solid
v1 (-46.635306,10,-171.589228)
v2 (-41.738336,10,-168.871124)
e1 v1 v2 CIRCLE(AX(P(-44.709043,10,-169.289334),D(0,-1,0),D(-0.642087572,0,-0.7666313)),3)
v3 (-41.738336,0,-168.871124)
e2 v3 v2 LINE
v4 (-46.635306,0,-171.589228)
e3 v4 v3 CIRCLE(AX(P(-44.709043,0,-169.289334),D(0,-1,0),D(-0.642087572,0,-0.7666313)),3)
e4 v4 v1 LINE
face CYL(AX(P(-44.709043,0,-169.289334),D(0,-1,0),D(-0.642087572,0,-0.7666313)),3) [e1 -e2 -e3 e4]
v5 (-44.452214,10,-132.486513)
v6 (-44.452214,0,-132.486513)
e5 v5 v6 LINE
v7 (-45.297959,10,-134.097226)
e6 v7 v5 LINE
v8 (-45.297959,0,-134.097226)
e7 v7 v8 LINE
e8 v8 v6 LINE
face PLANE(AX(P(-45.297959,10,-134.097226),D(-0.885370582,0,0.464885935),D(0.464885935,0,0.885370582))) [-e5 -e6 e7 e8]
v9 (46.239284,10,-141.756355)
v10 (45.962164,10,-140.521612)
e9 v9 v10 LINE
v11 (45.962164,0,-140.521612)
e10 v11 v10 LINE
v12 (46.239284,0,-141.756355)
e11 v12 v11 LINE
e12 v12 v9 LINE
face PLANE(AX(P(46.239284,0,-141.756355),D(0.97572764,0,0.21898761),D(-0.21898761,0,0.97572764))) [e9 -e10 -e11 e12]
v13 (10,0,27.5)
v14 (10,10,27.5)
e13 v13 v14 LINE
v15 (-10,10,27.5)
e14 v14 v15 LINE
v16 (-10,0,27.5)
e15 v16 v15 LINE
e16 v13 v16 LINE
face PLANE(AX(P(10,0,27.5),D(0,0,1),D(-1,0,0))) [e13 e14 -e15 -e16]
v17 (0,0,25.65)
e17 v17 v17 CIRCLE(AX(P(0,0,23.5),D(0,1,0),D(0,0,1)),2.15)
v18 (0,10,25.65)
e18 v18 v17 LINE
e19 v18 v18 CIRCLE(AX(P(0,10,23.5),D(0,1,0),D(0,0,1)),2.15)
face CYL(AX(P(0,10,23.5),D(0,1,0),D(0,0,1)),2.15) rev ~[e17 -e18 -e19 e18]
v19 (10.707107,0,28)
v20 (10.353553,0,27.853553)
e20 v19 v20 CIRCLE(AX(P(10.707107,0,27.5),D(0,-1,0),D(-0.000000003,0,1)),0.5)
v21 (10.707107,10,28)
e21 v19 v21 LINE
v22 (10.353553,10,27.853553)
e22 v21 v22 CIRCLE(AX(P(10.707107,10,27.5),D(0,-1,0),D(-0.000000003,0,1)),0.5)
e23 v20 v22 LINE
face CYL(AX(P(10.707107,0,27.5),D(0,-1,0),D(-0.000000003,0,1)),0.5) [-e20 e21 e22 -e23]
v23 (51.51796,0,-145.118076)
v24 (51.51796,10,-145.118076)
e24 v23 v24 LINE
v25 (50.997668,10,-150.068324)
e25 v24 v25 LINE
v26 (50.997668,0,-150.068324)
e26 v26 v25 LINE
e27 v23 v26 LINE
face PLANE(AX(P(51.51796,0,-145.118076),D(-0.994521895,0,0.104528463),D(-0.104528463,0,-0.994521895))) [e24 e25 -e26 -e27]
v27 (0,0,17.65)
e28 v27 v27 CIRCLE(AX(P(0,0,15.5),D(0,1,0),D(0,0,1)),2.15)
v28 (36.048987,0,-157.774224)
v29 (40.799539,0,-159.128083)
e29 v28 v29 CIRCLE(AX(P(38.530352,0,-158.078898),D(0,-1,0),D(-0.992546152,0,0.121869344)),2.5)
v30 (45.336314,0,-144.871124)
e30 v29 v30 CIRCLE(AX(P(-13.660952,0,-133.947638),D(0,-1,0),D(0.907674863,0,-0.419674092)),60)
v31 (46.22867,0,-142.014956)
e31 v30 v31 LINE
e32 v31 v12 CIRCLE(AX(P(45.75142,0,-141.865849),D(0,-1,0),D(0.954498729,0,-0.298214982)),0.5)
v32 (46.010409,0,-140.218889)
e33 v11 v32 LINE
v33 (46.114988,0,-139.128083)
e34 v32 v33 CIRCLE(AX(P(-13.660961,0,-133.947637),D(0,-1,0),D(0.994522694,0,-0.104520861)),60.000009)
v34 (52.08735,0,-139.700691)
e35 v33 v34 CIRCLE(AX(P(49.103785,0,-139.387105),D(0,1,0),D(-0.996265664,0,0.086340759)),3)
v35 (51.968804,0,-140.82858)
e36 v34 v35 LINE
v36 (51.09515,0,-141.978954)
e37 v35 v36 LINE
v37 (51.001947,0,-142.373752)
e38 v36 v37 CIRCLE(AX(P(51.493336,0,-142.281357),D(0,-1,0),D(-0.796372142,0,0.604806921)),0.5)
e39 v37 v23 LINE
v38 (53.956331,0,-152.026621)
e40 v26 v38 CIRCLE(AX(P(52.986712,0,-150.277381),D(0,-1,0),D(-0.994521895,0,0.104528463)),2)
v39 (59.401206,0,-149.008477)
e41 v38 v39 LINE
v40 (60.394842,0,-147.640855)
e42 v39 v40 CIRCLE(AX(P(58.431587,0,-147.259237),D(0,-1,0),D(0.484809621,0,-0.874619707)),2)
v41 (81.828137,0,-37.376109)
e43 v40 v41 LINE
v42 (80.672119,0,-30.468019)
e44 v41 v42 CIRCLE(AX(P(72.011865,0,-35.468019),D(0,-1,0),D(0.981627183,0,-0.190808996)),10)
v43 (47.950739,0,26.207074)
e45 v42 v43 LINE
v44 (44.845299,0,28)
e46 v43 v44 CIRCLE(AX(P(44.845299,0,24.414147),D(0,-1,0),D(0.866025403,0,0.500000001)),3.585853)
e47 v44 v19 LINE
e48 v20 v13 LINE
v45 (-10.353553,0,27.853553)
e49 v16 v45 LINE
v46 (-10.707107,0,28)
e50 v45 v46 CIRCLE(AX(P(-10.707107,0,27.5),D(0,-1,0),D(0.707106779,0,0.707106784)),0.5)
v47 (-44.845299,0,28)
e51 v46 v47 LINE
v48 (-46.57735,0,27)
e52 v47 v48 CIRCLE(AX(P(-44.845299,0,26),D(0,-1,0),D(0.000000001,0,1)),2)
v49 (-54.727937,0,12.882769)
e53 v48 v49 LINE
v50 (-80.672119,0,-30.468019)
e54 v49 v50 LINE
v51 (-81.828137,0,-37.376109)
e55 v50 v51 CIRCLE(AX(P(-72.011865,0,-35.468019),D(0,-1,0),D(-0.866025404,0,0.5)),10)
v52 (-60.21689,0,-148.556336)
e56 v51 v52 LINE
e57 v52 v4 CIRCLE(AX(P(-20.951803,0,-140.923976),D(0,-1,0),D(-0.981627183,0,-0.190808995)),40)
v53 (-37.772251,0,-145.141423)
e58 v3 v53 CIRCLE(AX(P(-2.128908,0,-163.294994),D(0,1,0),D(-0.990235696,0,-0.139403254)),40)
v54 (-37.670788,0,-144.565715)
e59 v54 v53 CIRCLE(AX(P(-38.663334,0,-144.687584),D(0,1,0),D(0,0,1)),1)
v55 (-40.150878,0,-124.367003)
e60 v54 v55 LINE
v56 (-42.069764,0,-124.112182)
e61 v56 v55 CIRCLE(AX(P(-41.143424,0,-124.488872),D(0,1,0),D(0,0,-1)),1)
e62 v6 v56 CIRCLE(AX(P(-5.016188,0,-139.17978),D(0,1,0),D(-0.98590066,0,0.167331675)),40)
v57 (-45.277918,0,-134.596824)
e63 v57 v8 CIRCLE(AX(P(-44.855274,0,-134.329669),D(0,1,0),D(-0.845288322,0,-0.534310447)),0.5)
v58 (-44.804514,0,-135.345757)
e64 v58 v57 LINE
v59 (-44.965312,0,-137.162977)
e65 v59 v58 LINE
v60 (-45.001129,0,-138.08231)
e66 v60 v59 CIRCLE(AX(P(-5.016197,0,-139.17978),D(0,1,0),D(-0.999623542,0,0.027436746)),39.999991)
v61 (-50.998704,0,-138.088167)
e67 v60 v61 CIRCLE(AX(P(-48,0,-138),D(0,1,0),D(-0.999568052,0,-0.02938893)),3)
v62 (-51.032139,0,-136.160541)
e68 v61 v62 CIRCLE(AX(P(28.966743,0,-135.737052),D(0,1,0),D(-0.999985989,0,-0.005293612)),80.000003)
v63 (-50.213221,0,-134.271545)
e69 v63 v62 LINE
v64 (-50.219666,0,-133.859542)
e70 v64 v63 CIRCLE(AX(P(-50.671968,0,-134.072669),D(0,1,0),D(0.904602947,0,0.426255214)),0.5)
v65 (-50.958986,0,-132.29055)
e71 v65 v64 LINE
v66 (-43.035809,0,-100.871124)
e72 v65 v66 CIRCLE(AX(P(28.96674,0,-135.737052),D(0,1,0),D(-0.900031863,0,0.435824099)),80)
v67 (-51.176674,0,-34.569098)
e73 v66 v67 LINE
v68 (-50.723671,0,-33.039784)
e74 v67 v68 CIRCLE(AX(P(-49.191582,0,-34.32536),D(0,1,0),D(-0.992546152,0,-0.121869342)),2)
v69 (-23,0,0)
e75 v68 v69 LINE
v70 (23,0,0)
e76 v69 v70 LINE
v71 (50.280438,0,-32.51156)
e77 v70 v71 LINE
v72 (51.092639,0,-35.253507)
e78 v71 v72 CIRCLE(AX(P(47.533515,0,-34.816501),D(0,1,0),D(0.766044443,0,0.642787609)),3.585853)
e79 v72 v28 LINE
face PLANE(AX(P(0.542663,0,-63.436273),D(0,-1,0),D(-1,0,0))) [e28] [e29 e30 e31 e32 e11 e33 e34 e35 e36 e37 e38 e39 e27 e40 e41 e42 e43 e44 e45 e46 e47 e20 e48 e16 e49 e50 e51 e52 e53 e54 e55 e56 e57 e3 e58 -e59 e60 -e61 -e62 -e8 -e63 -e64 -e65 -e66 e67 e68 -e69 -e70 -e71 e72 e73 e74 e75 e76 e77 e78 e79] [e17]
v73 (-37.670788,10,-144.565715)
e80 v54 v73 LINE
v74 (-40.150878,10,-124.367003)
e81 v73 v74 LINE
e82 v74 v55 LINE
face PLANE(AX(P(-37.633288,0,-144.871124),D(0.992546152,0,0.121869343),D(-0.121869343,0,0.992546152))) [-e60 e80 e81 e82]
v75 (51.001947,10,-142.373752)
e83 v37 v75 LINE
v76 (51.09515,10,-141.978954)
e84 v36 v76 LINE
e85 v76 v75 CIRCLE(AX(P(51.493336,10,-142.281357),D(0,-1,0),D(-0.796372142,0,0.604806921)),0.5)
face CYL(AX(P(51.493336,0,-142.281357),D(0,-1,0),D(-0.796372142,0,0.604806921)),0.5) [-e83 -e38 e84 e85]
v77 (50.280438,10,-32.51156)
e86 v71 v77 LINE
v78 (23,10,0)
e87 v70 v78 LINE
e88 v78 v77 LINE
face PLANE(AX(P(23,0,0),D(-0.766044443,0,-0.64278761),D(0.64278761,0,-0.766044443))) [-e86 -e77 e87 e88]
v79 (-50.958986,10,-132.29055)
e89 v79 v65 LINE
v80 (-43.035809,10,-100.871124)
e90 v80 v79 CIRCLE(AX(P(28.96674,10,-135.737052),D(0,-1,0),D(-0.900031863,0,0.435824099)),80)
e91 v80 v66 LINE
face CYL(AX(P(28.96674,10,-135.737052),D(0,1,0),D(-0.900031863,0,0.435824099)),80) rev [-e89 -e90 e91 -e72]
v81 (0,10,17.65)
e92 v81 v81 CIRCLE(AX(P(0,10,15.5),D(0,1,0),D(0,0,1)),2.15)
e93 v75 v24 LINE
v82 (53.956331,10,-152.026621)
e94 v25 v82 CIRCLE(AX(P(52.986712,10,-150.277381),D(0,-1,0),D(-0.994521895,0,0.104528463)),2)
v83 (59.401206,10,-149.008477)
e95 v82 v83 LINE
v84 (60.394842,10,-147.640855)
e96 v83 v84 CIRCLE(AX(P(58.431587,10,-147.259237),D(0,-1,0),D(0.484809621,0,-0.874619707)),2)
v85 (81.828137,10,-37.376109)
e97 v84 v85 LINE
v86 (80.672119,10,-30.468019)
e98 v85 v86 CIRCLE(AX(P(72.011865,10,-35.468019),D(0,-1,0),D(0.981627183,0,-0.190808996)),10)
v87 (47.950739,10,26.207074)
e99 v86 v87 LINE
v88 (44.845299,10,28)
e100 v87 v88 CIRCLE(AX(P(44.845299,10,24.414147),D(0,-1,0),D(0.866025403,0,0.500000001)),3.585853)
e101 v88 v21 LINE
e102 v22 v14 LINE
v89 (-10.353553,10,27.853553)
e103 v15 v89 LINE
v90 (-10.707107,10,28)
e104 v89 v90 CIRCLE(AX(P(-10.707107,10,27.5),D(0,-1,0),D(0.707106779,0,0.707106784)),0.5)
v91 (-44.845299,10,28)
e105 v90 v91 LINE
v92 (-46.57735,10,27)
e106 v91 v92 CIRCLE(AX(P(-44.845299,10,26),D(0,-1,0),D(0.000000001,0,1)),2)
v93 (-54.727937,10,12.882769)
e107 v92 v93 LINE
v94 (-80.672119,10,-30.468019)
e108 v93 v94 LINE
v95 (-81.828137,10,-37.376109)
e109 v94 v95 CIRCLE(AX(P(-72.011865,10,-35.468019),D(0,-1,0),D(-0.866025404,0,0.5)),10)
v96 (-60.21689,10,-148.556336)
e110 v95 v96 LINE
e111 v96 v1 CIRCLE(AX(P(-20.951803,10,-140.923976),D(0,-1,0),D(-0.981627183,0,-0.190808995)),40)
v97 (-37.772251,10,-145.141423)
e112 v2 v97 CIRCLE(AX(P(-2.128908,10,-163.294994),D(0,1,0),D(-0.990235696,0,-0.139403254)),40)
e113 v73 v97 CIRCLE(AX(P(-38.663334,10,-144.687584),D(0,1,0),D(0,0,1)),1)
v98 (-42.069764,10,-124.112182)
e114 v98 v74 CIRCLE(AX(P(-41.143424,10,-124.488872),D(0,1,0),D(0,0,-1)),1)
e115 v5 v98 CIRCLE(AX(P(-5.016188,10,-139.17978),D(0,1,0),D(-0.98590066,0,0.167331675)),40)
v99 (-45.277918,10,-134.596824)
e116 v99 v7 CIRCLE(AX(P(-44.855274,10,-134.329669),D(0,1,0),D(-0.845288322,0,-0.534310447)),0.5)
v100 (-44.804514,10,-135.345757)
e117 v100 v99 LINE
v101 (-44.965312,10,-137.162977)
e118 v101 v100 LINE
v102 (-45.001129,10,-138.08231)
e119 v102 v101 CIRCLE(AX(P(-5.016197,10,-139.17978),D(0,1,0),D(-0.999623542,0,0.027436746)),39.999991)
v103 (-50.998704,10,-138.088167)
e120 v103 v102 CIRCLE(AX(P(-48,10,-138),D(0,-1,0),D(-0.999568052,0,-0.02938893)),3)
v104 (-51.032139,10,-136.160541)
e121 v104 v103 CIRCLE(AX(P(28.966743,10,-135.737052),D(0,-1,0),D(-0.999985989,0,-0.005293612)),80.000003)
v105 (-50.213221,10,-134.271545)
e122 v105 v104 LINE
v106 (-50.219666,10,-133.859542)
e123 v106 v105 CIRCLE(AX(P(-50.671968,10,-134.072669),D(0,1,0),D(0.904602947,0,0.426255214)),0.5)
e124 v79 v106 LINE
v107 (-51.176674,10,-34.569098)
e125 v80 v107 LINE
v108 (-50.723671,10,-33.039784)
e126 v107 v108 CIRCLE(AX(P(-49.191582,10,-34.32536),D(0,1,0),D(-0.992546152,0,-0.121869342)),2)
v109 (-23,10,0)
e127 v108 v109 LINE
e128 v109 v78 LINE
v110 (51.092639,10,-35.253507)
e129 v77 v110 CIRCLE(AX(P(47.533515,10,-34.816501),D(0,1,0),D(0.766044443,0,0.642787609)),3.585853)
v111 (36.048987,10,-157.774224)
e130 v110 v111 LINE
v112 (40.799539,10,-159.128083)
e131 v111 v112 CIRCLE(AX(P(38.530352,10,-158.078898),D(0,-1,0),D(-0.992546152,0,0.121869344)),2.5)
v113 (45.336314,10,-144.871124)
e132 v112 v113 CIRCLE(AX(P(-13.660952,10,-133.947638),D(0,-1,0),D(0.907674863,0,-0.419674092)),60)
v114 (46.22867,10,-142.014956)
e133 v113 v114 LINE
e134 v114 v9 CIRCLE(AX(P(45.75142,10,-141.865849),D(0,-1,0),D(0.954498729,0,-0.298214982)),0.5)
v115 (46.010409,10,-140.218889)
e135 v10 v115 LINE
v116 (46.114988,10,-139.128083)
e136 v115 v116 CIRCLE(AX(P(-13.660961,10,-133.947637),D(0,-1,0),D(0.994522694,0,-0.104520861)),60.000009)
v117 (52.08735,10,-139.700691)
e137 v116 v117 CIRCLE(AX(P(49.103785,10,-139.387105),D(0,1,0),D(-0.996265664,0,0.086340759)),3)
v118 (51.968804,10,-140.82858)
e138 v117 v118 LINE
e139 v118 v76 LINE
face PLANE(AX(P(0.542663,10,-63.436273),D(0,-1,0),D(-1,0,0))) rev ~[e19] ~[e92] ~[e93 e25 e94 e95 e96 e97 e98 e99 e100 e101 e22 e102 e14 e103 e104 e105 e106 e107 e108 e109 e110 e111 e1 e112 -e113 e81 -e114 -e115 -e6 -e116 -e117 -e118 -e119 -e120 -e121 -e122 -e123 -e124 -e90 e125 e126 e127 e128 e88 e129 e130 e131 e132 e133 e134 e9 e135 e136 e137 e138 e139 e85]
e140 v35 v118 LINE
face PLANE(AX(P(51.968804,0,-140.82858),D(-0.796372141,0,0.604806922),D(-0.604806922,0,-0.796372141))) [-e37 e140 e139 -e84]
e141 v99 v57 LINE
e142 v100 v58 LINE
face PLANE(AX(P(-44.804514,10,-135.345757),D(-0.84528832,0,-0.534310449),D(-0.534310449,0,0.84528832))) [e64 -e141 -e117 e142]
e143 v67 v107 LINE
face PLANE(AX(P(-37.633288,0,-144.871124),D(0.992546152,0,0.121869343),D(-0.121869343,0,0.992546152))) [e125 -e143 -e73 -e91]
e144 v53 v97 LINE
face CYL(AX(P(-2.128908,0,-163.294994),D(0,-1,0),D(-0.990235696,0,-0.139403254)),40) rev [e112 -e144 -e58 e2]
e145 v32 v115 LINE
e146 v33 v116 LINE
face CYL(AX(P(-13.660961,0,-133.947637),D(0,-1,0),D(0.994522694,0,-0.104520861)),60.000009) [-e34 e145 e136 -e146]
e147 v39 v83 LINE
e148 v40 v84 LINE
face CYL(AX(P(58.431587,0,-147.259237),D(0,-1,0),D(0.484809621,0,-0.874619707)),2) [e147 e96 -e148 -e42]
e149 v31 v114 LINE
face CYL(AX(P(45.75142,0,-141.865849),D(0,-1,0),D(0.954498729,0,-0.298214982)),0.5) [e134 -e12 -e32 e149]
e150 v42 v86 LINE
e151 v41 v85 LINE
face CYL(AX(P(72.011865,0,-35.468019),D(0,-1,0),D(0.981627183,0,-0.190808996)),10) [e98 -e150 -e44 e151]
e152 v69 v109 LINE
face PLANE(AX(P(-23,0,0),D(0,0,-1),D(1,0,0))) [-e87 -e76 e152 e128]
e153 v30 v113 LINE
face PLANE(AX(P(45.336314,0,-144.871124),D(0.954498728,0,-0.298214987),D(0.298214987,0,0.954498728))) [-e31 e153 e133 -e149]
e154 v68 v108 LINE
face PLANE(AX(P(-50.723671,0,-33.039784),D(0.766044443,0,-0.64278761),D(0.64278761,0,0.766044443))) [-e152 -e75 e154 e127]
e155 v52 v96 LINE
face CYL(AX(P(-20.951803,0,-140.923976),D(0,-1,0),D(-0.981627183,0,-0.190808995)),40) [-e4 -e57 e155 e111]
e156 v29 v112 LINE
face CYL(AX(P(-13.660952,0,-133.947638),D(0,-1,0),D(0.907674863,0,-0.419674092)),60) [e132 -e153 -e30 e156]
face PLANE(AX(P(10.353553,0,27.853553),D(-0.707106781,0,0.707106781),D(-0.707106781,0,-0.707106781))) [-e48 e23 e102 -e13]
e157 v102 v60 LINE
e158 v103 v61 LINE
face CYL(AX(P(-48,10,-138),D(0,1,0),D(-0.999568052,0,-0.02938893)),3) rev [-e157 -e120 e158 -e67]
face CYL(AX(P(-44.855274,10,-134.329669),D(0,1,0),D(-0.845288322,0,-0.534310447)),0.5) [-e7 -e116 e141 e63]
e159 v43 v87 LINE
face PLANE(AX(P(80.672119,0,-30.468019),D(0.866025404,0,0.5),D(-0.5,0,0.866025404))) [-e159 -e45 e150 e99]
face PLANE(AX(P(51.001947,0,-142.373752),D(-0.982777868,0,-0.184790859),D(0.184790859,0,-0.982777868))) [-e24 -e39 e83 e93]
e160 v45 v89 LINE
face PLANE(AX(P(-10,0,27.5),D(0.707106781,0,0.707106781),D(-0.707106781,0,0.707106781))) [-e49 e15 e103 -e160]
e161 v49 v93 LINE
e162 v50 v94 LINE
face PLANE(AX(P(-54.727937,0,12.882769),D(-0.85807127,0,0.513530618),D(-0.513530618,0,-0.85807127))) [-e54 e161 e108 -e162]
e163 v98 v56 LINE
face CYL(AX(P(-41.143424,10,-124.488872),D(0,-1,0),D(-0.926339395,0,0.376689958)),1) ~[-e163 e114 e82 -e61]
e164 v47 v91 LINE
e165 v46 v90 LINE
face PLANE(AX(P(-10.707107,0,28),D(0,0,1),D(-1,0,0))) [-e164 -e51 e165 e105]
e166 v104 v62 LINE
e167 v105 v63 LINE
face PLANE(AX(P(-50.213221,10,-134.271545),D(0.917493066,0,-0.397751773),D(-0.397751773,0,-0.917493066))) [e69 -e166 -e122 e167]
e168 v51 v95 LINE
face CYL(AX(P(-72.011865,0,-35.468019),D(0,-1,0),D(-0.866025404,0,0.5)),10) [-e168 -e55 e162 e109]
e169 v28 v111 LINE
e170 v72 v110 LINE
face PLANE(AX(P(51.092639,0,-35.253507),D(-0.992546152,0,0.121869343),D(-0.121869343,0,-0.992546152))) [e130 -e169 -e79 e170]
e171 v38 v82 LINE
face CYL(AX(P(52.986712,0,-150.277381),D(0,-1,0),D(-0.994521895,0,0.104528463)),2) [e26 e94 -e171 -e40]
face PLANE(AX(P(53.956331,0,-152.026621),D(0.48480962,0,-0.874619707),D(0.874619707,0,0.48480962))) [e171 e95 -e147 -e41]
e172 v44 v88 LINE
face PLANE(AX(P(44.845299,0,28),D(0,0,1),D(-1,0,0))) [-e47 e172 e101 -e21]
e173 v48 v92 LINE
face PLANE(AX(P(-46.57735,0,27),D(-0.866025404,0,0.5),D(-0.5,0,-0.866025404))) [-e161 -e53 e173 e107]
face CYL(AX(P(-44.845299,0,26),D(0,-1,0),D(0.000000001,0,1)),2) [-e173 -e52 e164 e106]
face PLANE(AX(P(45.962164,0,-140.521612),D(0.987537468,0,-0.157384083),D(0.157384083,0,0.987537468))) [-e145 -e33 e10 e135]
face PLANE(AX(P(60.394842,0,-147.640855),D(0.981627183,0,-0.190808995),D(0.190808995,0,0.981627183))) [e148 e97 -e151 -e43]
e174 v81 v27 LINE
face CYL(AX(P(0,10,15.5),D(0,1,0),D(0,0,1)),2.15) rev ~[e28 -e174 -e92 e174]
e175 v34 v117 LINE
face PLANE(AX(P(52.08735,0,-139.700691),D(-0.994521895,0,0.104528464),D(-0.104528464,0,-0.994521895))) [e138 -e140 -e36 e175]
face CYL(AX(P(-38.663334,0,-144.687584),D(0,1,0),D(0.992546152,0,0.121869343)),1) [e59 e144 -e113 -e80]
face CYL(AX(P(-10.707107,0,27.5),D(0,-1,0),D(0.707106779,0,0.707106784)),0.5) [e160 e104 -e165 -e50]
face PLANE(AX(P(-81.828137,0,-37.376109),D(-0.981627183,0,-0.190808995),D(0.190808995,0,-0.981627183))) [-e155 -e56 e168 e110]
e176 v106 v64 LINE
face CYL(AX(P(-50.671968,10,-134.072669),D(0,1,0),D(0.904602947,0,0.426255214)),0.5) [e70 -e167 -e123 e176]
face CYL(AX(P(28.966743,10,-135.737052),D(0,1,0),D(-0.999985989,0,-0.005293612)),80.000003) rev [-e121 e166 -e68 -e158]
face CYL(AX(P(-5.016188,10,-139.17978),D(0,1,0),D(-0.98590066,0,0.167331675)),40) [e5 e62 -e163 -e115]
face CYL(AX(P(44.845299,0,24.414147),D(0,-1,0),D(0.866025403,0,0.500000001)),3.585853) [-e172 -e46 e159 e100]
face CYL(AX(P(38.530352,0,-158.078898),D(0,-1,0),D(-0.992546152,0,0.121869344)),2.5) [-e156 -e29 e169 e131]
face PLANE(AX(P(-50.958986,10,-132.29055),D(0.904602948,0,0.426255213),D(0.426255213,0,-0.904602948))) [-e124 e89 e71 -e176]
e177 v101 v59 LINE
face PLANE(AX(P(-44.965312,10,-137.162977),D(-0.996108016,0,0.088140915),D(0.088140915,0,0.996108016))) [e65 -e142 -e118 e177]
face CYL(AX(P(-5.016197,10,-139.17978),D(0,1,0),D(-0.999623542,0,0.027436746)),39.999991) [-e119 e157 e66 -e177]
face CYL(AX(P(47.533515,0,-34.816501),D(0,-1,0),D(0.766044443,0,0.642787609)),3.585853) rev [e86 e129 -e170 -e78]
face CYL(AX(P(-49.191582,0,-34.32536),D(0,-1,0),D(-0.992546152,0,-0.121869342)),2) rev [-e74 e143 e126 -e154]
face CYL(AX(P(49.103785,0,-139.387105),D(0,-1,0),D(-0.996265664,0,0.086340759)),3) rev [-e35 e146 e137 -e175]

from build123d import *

# Parameters (mm, degrees)
EXTRUDE_1_DEPTH     = 10
CUT_EXTRUDE_1_REACH = 193.075
SKETCH_2_R          = 2.15
FILLET_1_R          = 1


with BuildPart() as part:
    # 草图1 → 凸台-拉伸1 (new body)
    with BuildSketch(Plane(origin=(0, 0, 0), x_dir=(1, 0, 0), z_dir=(0, 1, 0))):
        with BuildLine():
            Line((-23, 0), (23, 0))
            Line((23, 0), (50.280437597, 32.511559514))
            ThreePointArc((50.280437597, 32.511559514), (50.971701439, 33.798064087), (51.092639409, 35.25350688))
            Line((51.092639409, 35.25350688), (36.048986901, 157.774224452))
            ThreePointArc((36.048986901, 157.774224452), (37.845160212, 160.483167311), (40.799539436, 159.128083042))
            ThreePointArc((40.799539436, 159.128083042), (43.514050375, 152.141566893), (45.33631399, 144.871124481))
            Line((45.33631399, 144.871124481), (46.228669547, 142.01495601))
            ThreePointArc((46.228669547, 142.01495601), (46.250999528, 141.886354071), (46.239284003, 141.756354712))
            Line((46.239284003, 141.756354712), (45.962164319, 140.52161209))
            Line((45.962164319, 140.52161209), (46.010409332, 140.218889241))
            ThreePointArc((46.010409332, 140.218889241), (46.065188715, 139.673724891), (46.11498752, 139.128083042))
            ThreePointArc((46.11498752, 139.128083042), (49.390100294, 136.400799361), (52.087350199, 139.700690708))
            Line((52.087350199, 139.700690708), (51.968804209, 140.828580455))
            Line((51.968804209, 140.828580455), (51.095150293, 141.978953599))
            ThreePointArc((51.095150293, 141.978953599), (51.00671283, 142.166476528), (51.001947429, 142.37375249))
            Line((51.001947429, 142.37375249), (51.517960099, 145.118075635))
            Line((51.517960099, 145.118075635), (50.997668008, 150.068324212))
            ThreePointArc((50.997668008, 150.068324212), (51.882837828, 151.945152782), (53.956331039, 152.026620552))
            Line((53.956331039, 152.026620552), (59.401206432, 149.008476838))
            ThreePointArc((59.401206432, 149.008476838), (60.04962118, 148.434807928), (60.394841558, 147.640855414))
            Line((60.394841558, 147.640855414), (81.828137025, 37.376109146))
            ThreePointArc((81.828137025, 37.376109146), (81.874721206, 33.817543133), (80.672119228, 30.468019192))
            Line((80.672119228, 30.468019192), (47.950739183, -26.207073541))
            ThreePointArc((47.950739183, -26.207073541), (46.63822592, -27.519586803), (44.845299462, -28))
            Line((44.845299462, -28), (10.707106781, -28))
            ThreePointArc((10.707106781, -28), (10.515765065, -27.961939766), (10.353553391, -27.853553391))
            Line((10.353553391, -27.853553391), (10, -27.5))
            Line((10, -27.5), (-10, -27.5))
            Line((-10, -27.5), (-10.353553391, -27.853553391))
            ThreePointArc((-10.353553391, -27.853553391), (-10.515765065, -27.961939766), (-10.707106781, -28))
            Line((-10.707106781, -28), (-44.845299462, -28))
            ThreePointArc((-44.845299462, -28), (-45.845299462, -27.732050808), (-46.577350269, -27))
            Line((-46.577350269, -27), (-54.72793721, -12.882769307))
            Line((-54.72793721, -12.882769307), (-80.672119228, 30.468019192))
            ThreePointArc((-80.672119228, 30.468019192), (-81.874721206, 33.817543133), (-81.828137025, 37.376109146))
            Line((-81.828137025, 37.376109146), (-60.216890167, 148.556335961))
            ThreePointArc((-60.216890167, 148.556335961), (-55.407693084, 161.241250242), (-46.635305706, 171.589228142))
            ThreePointArc((-46.635305706, 171.589228142), (-43.253111024, 171.912359616), (-41.738335903, 168.871124481))
            ThreePointArc((-41.738335903, 168.871124481), (-41.556322934, 156.551185491), (-37.633288365, 144.871124481))
            Line((-37.633288365, 144.871124481), (-51.176674229, 34.569098196))
            ThreePointArc((-51.176674229, 34.569098196), (-51.109221395, 33.75732882), (-50.723670812, 33.03978429))
            Line((-50.723670812, 33.03978429), (-23, 0))
        make_face()
    extrude(amount=EXTRUDE_1_DEPTH)

    # 草图2 → 切除-拉伸1 (cut, up to next)
    with BuildSketch(Plane(origin=(0, 10, 0), x_dir=(1, 0, 0), z_dir=(0, 1, 0)), mode=Mode.PRIVATE) as cut_extrude_1_sk1:
        with Locations(Location((0, -23.5, 0), (0, 0, 270))):
            Circle(SKETCH_2_R)
    cut_extrude_1_tool1 = extrude(cut_extrude_1_sk1.sketch, amount=-CUT_EXTRUDE_1_REACH, mode=Mode.PRIVATE) & part.part
    # 草图2 → 切除-拉伸1 (cut, up to next)
    with BuildSketch(Plane(origin=(0, 10, 0), x_dir=(1, 0, 0), z_dir=(0, 1, 0)), mode=Mode.PRIVATE) as cut_extrude_1_sk2:
        with Locations(Location((0, -15.5, 0), (0, 0, 270))):
            Circle(SKETCH_2_R)
    cut_extrude_1_tool2 = extrude(cut_extrude_1_sk2.sketch, amount=-CUT_EXTRUDE_1_REACH, mode=Mode.PRIVATE) & part.part
    # 草图2 → 切除-拉伸1 (cut, up to next)
    with BuildSketch(Plane(origin=(0, 10, 0), x_dir=(1, 0, 0), z_dir=(0, 1, 0)), mode=Mode.PRIVATE) as cut_extrude_1_sk3:
        with BuildLine():
            Line((-44.965311668, 137.162976975), (-44.804514377, 135.345756555))
            Line((-44.804514377, 135.345756555), (-45.277917872, 134.596824083))
            ThreePointArc((-45.277917872, 134.596824083), (-45.354871903, 134.349709989), (-45.297959002, 134.097225891))
            Line((-45.297959002, 134.097225891), (-44.452214101, 132.486513242))
            ThreePointArc((-44.452214101, 132.486513242), (-42.963225579, 126.529787442), (-40.580117827, 120.871124481))
            Line((-40.580117827, 120.871124481), (-43.035809045, 100.871124481))
            ThreePointArc((-43.035809045, 100.871124481), (-48.604809202, 116.175489254), (-50.95898566, 132.29055044))
            Line((-50.95898566, 132.29055044), (-50.219666113, 133.859541555))
            ThreePointArc((-50.219666113, 133.859541555), (-50.172028753, 134.06484851), (-50.213221053, 134.271545048))
            Line((-50.213221053, 134.271545048), (-51.032139087, 136.160541322))
            ThreePointArc((-51.032139087, 136.160541322), (-51.021228549, 137.124454778), (-50.998704156, 138.08816679))
            ThreePointArc((-50.998704156, 138.08816679), (-47.997070546, 140.99999857), (-45.001129375, 138.082310248))
            ThreePointArc((-45.001129375, 138.082310248), (-44.985863781, 137.622540629), (-44.965311668, 137.162976975))
        make_face()
    cut_extrude_1_tool3 = extrude(cut_extrude_1_sk3.sketch, amount=-CUT_EXTRUDE_1_REACH, mode=Mode.PRIVATE) & part.part
    add(cut_extrude_1_tool1.solids().sort_by_distance((0, 10, 23.5))[0], mode=Mode.SUBTRACT)
    add(cut_extrude_1_tool2.solids().sort_by_distance((0, 10, 15.5))[0], mode=Mode.SUBTRACT)
    add(cut_extrude_1_tool3.solids().sort_by_distance((-45.998672, 10, -122.997327))[0], mode=Mode.SUBTRACT)

    # 圆角1
    fillet_1_edges = [part.edges().sort_by_distance(p)[0] for p in [
        (-40.580117827, 5, -120.871124481),
        (-37.633288365, 5, -144.871124481),
    ]]
    fillet(fillet_1_edges, radius=FILLET_1_R)


solid = part.part
